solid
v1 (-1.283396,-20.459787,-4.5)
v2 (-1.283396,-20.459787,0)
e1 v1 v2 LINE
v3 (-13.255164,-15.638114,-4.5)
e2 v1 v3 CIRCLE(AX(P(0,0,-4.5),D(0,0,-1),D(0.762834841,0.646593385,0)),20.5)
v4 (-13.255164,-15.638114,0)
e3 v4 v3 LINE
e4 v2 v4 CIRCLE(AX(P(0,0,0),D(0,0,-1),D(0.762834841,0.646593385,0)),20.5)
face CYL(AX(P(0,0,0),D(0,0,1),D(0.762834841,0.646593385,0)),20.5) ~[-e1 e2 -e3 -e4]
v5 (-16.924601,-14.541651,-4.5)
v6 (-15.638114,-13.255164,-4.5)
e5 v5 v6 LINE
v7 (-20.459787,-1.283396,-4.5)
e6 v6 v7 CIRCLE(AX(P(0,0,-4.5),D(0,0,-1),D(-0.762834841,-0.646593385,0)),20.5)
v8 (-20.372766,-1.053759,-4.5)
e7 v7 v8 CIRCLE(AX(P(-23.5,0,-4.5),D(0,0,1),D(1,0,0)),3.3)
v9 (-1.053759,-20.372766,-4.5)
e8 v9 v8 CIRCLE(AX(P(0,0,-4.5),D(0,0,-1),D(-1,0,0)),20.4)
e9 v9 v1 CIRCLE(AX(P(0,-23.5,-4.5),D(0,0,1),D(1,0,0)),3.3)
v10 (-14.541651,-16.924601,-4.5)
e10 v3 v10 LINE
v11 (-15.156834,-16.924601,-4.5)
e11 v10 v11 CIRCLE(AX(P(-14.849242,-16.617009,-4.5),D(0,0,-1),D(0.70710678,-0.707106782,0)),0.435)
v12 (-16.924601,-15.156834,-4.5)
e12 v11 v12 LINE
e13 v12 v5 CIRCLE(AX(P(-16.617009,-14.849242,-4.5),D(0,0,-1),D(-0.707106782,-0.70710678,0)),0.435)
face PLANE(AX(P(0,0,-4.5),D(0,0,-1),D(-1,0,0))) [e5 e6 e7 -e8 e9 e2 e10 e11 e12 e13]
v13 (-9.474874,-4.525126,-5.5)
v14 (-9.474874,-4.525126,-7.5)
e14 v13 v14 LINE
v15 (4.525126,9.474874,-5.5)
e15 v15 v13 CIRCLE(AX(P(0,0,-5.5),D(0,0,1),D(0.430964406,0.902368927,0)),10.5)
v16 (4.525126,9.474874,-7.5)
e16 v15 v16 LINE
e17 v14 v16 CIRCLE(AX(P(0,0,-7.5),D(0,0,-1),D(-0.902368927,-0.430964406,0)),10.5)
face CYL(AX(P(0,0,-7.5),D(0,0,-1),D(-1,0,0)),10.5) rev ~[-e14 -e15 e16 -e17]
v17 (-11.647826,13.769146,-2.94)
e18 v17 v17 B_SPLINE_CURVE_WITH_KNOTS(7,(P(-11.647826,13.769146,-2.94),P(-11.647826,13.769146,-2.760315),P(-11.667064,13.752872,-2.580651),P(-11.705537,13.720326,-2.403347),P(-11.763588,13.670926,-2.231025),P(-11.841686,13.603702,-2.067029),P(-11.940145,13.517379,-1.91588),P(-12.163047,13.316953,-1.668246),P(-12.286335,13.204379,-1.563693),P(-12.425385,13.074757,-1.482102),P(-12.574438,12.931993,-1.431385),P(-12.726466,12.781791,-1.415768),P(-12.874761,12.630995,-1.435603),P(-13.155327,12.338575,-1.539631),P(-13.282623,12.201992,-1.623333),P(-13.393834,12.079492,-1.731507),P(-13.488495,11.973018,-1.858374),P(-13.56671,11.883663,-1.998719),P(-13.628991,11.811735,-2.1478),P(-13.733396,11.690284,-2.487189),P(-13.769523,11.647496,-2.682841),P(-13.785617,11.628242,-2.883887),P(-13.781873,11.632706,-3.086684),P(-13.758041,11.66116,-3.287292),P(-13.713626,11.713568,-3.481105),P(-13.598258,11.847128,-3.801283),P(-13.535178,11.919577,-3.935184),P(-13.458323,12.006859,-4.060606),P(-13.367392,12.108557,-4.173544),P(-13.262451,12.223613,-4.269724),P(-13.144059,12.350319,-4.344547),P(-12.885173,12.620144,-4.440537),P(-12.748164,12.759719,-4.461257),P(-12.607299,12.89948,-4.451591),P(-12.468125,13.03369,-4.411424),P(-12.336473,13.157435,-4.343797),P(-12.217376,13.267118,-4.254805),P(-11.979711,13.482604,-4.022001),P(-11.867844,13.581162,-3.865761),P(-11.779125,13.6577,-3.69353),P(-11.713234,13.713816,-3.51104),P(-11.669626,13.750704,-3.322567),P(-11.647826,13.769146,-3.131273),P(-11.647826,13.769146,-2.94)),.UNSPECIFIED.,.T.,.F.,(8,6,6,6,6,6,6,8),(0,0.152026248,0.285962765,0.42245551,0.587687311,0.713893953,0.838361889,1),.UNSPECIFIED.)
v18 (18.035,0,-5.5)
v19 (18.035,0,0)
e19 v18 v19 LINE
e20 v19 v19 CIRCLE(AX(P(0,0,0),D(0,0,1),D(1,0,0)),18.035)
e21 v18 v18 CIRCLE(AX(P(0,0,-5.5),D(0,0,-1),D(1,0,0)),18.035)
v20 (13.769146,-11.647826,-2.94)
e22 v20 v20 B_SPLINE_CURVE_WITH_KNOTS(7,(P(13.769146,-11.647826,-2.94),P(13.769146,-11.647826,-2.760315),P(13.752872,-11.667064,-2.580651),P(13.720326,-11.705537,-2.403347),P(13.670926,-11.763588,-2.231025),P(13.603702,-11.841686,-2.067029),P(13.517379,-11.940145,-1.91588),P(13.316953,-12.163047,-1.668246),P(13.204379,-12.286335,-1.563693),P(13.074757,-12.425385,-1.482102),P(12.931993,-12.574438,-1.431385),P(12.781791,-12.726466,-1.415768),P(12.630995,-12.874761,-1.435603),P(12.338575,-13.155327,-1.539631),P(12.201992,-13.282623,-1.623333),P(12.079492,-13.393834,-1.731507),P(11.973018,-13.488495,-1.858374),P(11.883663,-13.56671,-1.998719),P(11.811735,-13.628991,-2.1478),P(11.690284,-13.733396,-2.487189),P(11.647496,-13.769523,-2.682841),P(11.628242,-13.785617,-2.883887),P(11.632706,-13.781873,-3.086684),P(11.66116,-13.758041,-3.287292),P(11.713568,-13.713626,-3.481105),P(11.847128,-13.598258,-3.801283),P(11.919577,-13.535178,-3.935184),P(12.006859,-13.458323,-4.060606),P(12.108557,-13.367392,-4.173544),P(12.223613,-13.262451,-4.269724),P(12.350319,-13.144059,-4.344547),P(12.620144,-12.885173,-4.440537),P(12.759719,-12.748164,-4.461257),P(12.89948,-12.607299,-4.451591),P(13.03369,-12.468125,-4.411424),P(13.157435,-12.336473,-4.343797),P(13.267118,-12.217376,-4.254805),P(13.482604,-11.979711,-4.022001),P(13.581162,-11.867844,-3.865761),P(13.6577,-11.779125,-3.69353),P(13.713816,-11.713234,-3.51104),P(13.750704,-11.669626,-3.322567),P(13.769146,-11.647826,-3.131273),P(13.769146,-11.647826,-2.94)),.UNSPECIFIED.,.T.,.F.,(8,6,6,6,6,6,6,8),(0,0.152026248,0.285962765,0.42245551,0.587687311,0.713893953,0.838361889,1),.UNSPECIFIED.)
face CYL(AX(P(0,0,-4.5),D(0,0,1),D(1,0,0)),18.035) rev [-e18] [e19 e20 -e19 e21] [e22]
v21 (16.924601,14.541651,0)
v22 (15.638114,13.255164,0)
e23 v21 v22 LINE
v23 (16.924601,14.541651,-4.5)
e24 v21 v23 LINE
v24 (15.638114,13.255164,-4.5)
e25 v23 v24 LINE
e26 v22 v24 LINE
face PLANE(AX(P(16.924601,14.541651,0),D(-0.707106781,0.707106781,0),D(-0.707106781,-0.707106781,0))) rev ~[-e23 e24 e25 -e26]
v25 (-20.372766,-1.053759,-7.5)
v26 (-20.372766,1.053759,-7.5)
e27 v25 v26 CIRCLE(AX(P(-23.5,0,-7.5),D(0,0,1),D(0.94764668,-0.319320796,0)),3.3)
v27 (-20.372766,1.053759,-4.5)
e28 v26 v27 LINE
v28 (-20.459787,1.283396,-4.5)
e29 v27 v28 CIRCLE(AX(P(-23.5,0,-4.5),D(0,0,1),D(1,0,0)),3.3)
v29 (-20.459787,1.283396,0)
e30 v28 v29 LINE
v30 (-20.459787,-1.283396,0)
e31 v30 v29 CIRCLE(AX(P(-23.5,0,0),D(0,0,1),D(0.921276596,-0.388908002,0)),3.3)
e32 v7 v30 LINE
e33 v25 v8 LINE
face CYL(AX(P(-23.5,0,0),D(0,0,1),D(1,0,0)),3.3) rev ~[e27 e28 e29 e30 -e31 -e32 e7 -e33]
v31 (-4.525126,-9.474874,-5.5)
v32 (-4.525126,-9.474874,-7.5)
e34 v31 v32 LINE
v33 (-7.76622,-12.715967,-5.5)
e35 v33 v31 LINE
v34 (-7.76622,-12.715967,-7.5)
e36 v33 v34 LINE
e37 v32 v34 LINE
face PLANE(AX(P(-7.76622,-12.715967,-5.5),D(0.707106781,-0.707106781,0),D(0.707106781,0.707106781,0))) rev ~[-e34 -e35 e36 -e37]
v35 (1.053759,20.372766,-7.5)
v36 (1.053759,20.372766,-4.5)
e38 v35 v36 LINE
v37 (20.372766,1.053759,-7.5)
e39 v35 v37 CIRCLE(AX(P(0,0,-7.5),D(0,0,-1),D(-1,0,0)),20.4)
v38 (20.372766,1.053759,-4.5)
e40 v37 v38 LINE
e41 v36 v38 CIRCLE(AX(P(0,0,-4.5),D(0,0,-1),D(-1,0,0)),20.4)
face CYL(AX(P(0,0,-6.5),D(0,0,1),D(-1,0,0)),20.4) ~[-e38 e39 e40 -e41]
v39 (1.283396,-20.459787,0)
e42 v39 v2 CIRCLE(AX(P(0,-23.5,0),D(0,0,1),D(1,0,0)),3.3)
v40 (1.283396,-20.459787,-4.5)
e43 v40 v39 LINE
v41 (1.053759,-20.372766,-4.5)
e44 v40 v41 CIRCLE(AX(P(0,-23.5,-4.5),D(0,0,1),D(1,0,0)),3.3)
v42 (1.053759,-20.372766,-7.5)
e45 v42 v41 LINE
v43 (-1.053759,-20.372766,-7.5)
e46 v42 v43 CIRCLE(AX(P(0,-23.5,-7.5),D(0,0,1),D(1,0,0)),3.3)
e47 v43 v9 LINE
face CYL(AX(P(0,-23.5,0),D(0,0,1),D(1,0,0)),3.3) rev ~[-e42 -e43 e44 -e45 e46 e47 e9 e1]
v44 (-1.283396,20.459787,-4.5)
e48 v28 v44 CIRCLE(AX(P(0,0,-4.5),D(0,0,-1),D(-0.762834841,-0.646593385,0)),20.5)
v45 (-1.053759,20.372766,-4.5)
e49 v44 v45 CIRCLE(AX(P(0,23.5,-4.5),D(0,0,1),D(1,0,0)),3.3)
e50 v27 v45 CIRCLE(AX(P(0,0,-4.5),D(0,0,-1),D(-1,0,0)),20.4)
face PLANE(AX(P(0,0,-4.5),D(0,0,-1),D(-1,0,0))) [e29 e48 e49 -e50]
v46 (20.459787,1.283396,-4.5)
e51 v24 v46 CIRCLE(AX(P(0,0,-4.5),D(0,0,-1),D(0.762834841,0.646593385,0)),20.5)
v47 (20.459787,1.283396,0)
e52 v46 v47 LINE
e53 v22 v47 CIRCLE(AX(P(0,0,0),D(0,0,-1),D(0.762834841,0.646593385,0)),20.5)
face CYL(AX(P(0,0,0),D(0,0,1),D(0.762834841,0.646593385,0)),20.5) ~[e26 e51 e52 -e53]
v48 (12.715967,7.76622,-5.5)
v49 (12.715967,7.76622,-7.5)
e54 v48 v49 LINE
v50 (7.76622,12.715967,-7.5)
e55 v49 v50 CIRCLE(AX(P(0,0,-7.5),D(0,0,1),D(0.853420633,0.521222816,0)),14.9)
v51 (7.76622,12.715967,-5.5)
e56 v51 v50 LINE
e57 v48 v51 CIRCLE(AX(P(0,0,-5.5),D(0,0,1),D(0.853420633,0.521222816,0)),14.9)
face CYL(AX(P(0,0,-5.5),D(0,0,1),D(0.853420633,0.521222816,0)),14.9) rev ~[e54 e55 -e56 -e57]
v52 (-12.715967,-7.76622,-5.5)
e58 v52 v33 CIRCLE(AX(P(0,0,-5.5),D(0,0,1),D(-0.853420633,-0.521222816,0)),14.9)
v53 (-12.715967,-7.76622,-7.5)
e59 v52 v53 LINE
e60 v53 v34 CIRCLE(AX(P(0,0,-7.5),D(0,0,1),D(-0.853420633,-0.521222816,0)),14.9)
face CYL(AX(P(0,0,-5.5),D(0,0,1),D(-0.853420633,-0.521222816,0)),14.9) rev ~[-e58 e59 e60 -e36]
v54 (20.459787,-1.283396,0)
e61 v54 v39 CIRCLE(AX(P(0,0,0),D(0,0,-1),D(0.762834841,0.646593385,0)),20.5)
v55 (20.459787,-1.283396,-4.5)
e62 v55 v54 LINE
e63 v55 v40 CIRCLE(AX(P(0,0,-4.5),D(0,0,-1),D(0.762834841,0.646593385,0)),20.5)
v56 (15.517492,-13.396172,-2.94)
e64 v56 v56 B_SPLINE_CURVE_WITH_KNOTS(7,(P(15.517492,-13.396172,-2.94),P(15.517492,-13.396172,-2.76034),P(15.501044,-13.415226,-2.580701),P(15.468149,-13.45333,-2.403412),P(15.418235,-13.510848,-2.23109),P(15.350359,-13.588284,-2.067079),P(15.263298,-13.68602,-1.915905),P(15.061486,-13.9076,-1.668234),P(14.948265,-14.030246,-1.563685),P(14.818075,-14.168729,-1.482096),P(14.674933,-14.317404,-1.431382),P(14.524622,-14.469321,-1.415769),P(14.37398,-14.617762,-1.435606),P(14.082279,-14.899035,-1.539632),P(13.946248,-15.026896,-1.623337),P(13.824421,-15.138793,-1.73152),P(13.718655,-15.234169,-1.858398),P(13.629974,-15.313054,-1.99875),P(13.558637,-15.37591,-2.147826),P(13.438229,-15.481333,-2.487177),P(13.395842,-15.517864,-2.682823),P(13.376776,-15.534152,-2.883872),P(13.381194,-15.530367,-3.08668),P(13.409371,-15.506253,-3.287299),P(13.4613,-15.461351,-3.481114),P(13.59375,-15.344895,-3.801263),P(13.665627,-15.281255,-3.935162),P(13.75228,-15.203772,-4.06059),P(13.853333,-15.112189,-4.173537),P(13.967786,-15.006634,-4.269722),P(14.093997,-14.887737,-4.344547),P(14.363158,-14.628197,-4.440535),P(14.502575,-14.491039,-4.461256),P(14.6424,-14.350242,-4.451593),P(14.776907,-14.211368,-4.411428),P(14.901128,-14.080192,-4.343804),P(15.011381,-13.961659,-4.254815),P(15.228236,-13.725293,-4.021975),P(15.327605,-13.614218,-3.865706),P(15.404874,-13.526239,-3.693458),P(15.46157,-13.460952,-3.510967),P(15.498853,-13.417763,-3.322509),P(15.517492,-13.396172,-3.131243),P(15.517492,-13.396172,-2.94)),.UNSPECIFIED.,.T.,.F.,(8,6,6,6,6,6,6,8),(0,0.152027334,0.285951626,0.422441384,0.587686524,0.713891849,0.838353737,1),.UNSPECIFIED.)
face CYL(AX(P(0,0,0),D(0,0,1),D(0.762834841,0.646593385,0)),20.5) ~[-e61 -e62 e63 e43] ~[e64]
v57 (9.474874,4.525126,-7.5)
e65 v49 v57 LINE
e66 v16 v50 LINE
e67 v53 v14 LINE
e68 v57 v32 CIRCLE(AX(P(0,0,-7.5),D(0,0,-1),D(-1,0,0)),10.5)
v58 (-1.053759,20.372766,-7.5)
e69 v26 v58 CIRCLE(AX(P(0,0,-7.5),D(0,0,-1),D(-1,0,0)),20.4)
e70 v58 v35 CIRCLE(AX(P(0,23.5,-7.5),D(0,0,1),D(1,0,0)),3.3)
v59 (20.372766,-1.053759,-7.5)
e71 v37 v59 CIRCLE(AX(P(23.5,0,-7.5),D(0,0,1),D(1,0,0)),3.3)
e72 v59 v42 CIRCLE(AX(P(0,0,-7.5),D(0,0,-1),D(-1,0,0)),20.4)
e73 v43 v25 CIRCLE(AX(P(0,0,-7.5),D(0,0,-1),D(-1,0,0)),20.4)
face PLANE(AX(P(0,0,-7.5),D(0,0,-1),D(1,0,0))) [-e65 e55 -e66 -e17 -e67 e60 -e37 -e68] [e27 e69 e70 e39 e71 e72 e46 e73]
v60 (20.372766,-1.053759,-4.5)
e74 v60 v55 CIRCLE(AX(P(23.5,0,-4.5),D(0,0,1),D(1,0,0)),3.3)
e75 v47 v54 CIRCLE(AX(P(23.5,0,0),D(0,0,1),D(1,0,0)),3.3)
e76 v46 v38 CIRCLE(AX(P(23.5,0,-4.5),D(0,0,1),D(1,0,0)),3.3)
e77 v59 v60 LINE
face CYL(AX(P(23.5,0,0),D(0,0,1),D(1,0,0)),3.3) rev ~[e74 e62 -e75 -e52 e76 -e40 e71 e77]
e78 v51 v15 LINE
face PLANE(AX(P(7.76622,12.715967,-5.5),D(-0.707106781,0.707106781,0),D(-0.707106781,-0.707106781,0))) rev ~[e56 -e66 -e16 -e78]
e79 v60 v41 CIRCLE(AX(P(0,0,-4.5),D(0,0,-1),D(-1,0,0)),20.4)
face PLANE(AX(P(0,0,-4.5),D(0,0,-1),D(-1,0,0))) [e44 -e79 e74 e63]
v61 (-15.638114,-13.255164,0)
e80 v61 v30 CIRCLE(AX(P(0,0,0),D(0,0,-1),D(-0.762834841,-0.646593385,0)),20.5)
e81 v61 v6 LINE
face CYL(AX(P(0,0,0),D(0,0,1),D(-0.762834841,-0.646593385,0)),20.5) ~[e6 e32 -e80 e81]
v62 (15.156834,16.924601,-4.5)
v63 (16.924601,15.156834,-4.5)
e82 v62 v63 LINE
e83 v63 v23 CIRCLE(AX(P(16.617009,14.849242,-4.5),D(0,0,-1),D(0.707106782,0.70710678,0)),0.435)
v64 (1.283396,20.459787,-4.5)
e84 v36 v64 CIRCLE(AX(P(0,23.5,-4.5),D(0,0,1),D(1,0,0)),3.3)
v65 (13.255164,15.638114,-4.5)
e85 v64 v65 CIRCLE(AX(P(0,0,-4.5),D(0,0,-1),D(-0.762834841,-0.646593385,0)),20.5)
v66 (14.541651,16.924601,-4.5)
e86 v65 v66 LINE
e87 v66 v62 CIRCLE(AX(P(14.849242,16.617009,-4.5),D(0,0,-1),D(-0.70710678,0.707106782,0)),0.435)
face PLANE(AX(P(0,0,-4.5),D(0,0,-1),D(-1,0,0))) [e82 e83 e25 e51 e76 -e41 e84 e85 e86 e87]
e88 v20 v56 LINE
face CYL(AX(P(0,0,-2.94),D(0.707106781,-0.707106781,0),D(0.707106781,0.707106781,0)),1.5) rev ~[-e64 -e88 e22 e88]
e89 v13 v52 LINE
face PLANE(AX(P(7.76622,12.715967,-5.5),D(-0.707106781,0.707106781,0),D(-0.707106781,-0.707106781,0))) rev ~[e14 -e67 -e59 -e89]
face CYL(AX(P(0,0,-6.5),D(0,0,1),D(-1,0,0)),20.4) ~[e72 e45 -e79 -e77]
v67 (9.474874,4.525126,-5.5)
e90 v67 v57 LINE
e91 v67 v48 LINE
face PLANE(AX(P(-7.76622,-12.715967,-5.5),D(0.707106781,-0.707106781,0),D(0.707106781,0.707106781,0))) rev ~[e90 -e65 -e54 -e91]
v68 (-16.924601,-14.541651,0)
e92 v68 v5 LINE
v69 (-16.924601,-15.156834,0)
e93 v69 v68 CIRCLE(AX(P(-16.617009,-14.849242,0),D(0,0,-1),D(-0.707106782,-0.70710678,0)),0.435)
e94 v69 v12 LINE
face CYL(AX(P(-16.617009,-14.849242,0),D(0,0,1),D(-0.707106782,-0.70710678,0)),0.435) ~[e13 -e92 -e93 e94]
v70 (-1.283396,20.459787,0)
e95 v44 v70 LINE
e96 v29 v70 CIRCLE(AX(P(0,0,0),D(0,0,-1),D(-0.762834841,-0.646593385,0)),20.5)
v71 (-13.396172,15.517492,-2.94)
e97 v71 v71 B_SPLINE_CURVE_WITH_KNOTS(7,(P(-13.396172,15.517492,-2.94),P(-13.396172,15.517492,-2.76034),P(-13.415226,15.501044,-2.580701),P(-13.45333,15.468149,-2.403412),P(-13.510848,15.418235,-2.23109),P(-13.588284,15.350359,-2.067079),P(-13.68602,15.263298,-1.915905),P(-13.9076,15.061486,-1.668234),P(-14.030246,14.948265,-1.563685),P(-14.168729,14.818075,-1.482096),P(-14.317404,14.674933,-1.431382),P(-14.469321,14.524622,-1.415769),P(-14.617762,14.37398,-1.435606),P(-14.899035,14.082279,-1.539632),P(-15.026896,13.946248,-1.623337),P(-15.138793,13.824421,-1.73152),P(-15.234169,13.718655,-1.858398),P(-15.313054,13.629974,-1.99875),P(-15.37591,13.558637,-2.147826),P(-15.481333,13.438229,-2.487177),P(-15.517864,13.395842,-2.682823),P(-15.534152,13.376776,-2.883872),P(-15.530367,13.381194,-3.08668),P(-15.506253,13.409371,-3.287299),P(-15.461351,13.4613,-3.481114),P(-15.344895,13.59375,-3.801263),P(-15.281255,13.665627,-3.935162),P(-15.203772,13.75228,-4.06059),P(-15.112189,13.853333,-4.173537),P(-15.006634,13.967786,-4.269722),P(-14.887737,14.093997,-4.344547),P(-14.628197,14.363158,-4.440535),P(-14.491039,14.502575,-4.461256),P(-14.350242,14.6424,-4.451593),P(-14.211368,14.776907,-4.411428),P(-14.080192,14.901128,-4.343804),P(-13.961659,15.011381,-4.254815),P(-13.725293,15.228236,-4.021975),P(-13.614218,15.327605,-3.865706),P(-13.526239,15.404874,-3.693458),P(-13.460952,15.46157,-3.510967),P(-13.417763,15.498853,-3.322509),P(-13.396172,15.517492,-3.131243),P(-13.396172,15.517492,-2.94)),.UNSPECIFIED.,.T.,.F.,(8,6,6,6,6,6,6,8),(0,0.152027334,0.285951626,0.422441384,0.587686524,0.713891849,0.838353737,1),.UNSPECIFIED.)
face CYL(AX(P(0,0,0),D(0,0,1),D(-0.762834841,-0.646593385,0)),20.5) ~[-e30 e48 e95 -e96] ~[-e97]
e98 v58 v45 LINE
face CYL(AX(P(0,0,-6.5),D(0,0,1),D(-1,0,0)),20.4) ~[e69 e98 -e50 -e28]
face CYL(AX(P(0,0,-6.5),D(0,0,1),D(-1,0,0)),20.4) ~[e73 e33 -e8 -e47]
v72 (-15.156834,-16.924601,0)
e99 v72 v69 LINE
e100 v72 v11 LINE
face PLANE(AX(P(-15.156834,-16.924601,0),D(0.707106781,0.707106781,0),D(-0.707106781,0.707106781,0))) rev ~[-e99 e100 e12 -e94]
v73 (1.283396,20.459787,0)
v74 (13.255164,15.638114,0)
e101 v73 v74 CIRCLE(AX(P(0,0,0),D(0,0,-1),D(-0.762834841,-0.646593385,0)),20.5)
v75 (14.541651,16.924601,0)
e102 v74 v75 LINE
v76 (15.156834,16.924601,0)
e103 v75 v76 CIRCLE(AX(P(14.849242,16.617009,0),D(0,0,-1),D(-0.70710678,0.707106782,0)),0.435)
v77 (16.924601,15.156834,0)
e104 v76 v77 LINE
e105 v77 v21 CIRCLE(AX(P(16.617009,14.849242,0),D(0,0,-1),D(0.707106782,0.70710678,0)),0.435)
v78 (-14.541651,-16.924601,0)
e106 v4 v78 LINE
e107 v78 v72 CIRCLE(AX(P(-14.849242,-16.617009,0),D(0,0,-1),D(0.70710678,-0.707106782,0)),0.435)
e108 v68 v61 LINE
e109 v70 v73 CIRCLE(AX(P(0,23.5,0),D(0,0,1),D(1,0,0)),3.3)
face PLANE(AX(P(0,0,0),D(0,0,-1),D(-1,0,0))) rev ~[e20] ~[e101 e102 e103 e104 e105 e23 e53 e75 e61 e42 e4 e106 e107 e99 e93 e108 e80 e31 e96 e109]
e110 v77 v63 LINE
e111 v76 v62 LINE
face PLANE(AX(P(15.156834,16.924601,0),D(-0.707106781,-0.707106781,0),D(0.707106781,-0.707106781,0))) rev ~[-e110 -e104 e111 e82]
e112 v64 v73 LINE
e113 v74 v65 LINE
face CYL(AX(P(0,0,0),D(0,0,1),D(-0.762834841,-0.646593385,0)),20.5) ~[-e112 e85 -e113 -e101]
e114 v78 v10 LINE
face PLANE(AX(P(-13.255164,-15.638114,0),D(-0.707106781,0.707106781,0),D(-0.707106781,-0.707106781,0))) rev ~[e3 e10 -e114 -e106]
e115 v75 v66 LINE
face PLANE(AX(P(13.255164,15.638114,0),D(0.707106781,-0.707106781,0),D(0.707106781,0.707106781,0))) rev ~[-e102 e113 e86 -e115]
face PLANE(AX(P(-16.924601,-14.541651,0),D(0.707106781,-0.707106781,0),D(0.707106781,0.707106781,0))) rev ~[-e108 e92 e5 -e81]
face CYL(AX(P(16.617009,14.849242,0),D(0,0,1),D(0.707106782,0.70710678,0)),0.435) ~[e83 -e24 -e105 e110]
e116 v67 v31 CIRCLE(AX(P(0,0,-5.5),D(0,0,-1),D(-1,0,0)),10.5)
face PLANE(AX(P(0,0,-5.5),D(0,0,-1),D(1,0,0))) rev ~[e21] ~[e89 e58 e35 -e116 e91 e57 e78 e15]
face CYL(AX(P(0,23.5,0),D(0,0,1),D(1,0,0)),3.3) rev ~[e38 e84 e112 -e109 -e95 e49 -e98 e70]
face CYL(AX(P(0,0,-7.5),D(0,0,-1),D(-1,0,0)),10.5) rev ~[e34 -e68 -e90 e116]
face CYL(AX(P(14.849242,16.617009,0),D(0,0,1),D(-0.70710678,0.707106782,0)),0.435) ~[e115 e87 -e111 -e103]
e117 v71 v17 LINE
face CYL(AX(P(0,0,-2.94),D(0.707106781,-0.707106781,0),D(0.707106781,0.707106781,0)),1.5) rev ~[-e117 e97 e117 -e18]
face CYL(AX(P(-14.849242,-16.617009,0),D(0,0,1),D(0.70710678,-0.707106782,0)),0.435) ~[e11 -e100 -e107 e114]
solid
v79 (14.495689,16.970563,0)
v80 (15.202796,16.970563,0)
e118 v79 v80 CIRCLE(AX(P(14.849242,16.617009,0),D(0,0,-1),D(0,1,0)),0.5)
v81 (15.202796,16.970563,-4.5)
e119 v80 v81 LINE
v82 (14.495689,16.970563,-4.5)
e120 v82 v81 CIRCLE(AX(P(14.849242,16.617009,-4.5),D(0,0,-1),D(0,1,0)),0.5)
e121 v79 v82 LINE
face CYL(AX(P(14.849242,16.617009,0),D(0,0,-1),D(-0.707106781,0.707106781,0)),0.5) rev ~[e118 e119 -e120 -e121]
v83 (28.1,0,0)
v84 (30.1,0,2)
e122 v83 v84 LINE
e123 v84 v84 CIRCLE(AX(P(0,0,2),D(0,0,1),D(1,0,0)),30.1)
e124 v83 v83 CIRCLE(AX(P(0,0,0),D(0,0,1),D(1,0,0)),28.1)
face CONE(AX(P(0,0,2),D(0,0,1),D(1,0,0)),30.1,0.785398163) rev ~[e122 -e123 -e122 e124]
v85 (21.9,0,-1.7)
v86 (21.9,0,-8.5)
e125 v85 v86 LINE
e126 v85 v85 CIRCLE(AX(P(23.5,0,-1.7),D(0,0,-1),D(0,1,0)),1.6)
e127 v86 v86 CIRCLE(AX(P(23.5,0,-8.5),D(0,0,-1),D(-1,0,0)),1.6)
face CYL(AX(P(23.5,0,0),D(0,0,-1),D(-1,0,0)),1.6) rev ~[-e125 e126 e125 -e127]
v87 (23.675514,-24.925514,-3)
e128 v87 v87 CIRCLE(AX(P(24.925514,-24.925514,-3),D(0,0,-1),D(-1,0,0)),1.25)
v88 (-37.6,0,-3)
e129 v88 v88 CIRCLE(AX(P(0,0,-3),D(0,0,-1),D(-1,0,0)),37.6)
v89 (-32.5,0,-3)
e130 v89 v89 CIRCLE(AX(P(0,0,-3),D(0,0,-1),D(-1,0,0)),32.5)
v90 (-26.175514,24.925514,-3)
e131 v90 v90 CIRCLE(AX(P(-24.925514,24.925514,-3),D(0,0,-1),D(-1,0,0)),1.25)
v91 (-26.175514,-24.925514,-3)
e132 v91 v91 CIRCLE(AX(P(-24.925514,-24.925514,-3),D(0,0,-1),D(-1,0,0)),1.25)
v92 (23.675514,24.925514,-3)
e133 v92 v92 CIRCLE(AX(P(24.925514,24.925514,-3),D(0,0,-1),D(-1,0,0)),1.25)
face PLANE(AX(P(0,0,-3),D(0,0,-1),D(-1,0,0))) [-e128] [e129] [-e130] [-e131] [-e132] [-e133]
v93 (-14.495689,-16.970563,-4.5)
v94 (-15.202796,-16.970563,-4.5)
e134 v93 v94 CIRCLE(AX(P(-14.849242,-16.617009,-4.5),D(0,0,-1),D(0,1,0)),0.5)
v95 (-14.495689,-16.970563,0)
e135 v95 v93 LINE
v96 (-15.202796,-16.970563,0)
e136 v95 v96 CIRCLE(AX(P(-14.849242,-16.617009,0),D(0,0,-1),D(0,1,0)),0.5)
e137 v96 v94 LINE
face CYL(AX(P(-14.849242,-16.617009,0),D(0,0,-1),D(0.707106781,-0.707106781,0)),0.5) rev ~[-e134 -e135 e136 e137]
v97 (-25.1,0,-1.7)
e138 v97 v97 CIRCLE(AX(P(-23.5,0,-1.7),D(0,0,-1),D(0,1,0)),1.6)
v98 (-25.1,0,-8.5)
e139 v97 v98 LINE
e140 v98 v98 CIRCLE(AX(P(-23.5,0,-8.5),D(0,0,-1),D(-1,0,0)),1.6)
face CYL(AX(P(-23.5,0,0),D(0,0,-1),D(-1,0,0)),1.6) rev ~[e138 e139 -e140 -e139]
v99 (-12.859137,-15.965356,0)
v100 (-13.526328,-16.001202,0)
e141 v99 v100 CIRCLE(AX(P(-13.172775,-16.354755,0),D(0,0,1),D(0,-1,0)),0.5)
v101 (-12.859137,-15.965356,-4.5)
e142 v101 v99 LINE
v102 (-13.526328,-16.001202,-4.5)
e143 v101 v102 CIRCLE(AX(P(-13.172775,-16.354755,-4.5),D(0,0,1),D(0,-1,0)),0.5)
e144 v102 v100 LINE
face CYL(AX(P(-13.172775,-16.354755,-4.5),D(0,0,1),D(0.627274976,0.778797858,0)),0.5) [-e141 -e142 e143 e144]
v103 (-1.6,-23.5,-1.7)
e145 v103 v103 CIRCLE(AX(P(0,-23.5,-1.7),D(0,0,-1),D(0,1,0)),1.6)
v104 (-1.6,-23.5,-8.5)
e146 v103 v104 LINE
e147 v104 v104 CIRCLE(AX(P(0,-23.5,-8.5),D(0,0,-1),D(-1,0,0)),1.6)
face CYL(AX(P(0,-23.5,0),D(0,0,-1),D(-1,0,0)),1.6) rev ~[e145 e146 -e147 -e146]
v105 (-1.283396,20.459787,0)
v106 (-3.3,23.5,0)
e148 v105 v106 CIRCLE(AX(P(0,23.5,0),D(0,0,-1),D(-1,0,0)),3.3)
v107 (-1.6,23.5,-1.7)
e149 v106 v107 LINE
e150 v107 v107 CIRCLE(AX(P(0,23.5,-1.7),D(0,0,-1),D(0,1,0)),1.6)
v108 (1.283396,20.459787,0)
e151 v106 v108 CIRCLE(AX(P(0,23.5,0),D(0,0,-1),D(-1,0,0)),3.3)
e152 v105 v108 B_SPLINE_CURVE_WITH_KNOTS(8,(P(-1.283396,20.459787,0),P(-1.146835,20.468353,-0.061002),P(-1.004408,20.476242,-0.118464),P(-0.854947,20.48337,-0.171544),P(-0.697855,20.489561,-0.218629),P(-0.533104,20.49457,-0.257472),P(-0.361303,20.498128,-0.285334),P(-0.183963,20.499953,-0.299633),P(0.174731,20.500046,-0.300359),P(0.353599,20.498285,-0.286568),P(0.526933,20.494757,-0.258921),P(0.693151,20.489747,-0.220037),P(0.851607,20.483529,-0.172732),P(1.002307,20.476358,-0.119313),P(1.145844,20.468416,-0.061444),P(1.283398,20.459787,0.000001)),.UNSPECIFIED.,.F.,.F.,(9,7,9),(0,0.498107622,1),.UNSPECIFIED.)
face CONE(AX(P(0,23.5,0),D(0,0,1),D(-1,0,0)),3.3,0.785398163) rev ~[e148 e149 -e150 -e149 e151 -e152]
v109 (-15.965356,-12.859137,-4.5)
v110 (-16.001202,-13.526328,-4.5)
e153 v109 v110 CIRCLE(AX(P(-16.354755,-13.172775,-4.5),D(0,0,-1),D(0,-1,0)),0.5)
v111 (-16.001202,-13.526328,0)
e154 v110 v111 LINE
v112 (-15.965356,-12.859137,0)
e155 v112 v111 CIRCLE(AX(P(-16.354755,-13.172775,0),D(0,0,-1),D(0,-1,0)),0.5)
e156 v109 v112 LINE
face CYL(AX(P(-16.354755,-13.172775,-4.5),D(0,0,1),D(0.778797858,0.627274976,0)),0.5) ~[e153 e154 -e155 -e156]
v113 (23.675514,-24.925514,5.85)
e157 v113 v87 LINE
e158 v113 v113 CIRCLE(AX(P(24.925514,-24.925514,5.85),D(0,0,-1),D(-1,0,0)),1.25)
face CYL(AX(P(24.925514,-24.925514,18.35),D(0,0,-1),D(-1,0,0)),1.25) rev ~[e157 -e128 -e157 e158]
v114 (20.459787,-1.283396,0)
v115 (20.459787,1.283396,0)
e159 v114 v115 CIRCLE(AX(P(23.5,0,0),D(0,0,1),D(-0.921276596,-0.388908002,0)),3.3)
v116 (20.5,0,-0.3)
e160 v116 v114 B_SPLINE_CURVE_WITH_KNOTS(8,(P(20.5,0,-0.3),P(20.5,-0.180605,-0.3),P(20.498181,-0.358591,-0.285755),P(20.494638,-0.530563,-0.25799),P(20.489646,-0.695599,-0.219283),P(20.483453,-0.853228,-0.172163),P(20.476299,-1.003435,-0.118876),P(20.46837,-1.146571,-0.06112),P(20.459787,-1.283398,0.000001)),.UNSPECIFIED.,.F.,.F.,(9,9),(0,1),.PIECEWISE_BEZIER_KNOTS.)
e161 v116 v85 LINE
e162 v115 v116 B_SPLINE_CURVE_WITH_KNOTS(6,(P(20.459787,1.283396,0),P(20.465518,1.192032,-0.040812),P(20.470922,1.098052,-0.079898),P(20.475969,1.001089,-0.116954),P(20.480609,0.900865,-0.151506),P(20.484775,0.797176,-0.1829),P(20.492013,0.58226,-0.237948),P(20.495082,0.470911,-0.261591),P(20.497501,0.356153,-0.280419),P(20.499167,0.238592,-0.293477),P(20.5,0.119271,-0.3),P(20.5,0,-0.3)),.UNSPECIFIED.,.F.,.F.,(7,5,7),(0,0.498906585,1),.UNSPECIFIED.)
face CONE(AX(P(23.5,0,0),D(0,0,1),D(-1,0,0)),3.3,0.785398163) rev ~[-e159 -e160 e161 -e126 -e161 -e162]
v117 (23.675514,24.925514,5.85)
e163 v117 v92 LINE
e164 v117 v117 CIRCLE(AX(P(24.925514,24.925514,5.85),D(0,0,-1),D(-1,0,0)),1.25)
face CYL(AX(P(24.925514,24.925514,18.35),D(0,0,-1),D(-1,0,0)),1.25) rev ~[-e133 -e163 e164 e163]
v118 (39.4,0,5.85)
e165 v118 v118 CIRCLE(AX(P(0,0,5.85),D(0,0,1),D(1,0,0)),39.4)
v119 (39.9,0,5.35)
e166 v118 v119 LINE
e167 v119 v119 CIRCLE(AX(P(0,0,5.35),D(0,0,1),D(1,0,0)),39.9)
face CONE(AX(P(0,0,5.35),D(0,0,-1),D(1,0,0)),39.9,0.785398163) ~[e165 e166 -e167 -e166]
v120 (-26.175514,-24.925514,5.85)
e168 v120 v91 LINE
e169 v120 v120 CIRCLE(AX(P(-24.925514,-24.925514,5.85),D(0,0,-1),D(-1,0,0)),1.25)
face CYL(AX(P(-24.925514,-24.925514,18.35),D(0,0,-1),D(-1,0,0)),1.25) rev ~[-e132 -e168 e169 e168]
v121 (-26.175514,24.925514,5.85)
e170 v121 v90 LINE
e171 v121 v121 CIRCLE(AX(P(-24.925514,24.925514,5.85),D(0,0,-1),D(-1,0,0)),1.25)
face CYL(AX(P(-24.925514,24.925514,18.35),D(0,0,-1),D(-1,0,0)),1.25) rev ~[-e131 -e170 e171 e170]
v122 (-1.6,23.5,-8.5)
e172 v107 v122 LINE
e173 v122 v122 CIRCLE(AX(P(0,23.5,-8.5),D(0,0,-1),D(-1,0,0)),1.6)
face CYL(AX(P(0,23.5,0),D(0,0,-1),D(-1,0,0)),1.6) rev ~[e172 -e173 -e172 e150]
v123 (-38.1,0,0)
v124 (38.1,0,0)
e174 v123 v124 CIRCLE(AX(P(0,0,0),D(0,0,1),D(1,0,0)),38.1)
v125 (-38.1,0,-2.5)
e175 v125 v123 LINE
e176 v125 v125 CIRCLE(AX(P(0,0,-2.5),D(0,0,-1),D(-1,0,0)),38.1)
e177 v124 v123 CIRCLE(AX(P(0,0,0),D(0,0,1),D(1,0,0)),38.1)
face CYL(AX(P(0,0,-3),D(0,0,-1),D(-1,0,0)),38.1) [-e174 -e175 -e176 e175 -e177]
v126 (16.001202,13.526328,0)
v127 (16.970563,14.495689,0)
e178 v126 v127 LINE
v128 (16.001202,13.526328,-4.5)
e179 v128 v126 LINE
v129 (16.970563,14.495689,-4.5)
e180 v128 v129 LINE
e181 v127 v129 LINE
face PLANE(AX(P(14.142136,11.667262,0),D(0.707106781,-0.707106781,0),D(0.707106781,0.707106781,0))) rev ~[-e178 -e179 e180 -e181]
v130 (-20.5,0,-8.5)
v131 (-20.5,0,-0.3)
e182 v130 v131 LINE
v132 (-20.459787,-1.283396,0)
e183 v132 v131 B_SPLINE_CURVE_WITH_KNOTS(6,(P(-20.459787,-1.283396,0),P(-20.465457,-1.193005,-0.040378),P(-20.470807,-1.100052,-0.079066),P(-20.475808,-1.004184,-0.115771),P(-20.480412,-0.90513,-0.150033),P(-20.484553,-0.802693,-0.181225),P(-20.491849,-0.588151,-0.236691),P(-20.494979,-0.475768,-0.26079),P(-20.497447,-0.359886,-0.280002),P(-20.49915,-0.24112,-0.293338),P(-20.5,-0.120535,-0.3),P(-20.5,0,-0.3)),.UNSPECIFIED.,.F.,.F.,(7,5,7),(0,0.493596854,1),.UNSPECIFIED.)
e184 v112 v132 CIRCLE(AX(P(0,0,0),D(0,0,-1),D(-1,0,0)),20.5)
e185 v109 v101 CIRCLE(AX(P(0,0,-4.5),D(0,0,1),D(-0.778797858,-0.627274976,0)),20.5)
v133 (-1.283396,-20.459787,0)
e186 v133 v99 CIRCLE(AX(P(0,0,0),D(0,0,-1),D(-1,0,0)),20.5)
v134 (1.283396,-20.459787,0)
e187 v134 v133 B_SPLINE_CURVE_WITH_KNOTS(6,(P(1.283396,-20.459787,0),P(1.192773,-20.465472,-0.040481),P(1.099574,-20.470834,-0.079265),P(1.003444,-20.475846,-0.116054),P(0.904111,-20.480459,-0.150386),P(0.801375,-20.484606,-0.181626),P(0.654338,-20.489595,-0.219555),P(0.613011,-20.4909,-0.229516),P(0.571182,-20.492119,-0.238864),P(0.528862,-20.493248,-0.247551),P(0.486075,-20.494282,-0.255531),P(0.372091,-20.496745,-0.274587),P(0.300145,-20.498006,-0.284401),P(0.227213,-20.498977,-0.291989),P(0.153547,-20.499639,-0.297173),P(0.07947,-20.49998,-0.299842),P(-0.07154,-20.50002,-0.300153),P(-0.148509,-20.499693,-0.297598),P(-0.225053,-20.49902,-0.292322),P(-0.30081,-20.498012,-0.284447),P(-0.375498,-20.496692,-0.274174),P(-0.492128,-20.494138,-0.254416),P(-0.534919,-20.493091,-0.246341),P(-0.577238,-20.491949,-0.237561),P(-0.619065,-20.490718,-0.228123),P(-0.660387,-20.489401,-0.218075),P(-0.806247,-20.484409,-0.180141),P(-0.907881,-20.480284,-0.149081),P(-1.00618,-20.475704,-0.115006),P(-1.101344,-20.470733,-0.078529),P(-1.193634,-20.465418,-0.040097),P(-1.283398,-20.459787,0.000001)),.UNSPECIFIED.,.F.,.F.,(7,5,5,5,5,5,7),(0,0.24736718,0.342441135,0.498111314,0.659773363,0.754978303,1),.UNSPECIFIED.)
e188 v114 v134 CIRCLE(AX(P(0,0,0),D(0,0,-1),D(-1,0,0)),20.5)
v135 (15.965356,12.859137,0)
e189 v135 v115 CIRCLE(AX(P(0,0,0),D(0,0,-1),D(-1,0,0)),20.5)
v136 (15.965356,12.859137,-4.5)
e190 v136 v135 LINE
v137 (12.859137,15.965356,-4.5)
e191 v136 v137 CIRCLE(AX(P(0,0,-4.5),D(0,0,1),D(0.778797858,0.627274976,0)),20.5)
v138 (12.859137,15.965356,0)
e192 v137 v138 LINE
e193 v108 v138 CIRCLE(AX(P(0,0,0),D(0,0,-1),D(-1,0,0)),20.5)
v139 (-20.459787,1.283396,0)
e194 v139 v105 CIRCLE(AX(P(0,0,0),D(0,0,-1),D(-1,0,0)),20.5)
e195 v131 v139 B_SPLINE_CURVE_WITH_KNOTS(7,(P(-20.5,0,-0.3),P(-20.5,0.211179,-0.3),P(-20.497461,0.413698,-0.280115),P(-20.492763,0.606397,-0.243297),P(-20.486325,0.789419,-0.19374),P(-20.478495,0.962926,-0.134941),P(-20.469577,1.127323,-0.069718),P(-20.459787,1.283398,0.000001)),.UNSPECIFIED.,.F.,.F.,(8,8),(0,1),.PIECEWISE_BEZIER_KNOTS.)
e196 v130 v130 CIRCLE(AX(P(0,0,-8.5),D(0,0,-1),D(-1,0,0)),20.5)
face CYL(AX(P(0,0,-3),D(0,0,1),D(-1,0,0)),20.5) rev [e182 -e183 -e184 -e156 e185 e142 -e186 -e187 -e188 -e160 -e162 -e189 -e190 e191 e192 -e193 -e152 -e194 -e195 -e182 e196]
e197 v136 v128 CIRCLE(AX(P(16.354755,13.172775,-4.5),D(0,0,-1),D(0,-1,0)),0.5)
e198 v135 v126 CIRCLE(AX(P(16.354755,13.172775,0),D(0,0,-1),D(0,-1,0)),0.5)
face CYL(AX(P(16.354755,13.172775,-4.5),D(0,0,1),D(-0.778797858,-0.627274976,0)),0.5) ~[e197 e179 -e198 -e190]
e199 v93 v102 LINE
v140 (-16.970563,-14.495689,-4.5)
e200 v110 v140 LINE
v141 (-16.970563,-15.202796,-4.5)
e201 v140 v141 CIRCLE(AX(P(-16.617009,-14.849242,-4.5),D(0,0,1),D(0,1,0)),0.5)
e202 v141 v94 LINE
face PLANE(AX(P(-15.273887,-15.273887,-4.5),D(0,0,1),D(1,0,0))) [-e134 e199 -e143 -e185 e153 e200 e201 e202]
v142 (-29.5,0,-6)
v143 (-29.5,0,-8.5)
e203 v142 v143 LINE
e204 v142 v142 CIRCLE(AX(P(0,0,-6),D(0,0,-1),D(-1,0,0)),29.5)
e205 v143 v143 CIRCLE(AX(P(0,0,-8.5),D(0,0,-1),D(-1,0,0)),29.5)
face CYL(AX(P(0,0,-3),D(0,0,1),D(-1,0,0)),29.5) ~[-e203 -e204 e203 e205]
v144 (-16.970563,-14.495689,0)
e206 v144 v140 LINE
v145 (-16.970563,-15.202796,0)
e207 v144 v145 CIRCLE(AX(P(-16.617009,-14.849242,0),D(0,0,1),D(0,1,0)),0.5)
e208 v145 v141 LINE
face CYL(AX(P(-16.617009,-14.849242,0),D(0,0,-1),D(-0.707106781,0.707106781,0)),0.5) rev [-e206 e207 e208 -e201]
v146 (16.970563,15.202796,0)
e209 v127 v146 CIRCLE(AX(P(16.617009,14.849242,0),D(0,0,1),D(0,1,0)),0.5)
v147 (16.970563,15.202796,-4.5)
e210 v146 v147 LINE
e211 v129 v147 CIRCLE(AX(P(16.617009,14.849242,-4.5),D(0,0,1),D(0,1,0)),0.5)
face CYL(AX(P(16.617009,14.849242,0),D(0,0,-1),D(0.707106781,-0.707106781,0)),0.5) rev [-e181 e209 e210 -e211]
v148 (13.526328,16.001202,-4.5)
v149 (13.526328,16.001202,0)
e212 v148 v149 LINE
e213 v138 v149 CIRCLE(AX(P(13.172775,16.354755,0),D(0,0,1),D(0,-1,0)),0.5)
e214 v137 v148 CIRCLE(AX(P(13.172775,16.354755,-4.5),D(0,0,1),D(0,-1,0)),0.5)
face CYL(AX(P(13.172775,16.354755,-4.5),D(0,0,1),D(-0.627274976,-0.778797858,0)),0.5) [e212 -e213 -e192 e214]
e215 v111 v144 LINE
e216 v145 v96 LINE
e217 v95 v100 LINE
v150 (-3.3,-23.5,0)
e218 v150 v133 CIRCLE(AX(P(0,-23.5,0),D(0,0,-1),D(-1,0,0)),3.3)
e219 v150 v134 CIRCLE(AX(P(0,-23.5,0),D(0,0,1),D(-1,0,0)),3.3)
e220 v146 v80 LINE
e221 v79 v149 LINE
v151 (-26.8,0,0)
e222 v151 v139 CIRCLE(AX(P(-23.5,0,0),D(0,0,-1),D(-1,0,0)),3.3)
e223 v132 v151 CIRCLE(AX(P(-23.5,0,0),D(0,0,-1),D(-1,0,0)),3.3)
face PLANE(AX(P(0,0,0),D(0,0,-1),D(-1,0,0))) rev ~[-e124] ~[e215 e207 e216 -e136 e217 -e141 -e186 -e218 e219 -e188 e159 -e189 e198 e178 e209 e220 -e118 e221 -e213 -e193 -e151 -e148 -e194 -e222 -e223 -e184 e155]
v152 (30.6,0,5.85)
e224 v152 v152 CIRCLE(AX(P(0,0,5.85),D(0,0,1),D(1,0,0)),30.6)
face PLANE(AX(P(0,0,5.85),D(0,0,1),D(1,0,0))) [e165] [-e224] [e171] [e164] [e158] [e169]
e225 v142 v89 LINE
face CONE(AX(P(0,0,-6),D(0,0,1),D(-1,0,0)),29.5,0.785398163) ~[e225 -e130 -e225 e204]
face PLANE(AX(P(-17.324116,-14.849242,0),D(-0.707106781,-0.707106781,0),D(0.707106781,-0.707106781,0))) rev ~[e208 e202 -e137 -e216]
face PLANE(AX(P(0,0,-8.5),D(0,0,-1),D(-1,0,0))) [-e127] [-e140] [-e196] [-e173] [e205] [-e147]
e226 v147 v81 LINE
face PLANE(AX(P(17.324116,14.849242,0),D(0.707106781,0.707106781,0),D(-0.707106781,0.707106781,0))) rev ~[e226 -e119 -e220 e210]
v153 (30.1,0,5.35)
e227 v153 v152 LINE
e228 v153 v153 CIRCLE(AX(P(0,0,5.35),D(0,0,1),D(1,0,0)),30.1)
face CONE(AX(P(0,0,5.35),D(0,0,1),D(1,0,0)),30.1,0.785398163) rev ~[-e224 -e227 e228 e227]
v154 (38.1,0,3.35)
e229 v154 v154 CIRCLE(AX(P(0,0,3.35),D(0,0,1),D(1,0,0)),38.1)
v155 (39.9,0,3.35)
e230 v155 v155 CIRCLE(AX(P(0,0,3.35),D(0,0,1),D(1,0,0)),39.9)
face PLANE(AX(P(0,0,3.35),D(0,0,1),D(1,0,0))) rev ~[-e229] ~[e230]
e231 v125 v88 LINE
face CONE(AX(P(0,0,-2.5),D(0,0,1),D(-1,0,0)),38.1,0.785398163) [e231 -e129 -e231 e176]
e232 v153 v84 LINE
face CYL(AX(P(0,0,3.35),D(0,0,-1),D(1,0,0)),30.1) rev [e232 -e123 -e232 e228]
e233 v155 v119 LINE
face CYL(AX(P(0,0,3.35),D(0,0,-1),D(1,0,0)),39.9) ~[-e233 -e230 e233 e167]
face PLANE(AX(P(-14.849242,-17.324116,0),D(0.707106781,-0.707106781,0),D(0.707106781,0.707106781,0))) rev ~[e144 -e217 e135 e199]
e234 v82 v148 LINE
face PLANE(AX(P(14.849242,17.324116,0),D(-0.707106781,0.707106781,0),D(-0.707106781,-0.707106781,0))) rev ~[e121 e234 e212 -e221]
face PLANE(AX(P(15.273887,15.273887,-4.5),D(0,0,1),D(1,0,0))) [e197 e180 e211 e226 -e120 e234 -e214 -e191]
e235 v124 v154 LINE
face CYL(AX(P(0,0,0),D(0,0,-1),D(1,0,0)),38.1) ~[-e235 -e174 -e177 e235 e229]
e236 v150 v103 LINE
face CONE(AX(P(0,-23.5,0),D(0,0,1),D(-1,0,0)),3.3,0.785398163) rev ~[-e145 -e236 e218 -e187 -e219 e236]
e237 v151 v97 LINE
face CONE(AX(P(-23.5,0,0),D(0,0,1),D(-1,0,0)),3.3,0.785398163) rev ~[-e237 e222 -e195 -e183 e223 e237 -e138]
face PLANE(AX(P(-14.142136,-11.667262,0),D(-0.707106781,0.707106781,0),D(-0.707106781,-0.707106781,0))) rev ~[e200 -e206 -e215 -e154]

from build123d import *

# Parameters (mm, degrees)
SKETCH_1_R                = 38.1
SKETCH_1_R_2              = 30.1
EXTRUDE_1_DEPTH           = 3.35
SKETCH_2_R                = 39.9
SKETCH_2_R_2              = 30.1
EXTRUDE_2_DEPTH           = 2.5
EXTRUDE_START             = 3
SKETCH_4_R                = 38.1
SKETCH_4_R_2              = 20.5
EXTRUDE_3_DEPTH           = 3
CHAMFER_1_SIZE            = 2
SKETCH_5_R                = 1.5
CUT_EXTRUDE_1_DEPTH       = 10
CHAMFER_2_SIZE            = 0.5
SKETCH_6_R                = 29.5
SKETCH_6_R_2              = 20.5
SKETCH_6_R_3              = 1.5
EXTRUDE_4_DEPTH           = 5.5
CHAMFER_3_SIZE            = 3
CHAMFER_4_SIZE            = 0.5
HOLE_WIZARD_1_D           = 3.2
HOLE_WIZARD_1_DEPTH       = 12.5
HOLE_WIZARD_1_CSINK_D     = 6.6
HOLE_WIZARD_1_CSINK_ANGLE = 90
HOLE_WIZARD_1_TIP         = 0.96137699
SKETCH_8_R                = 1.2
CUT_EXTRUDE_2_DEPTH       = 10
HOLE_WIZARD_M3_1_D        = 2.5
HOLE_WIZARD_M3_1_DEPTH    = 12.5
HOLE_WIZARD_M3_1_TIP      = 0.751075774
CUT_EXTRUDE_4_DEPTH       = 4.5
FILLET_3_R                = 0.5
SKETCH_13_R               = 18.035
EXTRUDE_5_DEPTH           = 4.5
SKETCH_14_R               = 20.4
SKETCH_14_R_2             = 18.035
EXTRUDE_6_DEPTH           = 2
SKETCH_15_R               = 20.4
SKETCH_15_R_2             = 18.035
EXTRUDE_7_DEPTH           = 1
SKETCH_16_R               = 18.035
SKETCH_16_R_2             = 10.5
EXTRUDE_8_DEPTH           = 2
SKETCH_17_R               = 3.3
CUT_EXTRUDE_5_DEPTH       = 14
SKETCH_18_R               = 1.5
CUT_EXTRUDE_6_DEPTH       = 40
CUT_EXTRUDE_7_DEPTH       = 80


with BuildPart() as part:
    # 草图1 → 凸台-拉伸1 (new body)
    with BuildSketch(Plane.XY):
        Circle(SKETCH_1_R)
        Circle(SKETCH_1_R_2, mode=Mode.SUBTRACT)
    extrude(amount=EXTRUDE_1_DEPTH)

    # 草图2 → 凸台-拉伸2 (add)
    with BuildSketch(Plane.XY.offset(3.35)):
        Circle(SKETCH_2_R)
        Circle(SKETCH_2_R_2, mode=Mode.SUBTRACT)
    extrude(amount=EXTRUDE_2_DEPTH)

    # 草图4 → 凸台-拉伸3 (add)
    with BuildSketch(Plane(origin=(0, 0, 0), x_dir=(-1, 0, 0), z_dir=(0, 0, -1)).offset(EXTRUDE_START)):
        Circle(SKETCH_4_R)
        Circle(SKETCH_4_R_2, mode=Mode.SUBTRACT)
    extrude(amount=-EXTRUDE_3_DEPTH)

    # 倒角1
    chamfer_1_edges = [part.edges().sort_by_distance(p)[0] for p in [
        (-30.1, 0, 0),
    ]]
    chamfer(chamfer_1_edges, length=CHAMFER_1_SIZE)

    # 草图5 → 切除-拉伸1 (cut)
    with BuildSketch(Plane.XY):
        with Locations((-23.5, 0)):
            Circle(SKETCH_5_R)
        with Locations((0, 23.5)):
            Circle(SKETCH_5_R)
        with Locations((23.5, 0)):
            Circle(SKETCH_5_R)
        with Locations((0, -23.5)):
            Circle(SKETCH_5_R)
    extrude(amount=-CUT_EXTRUDE_1_DEPTH, mode=Mode.SUBTRACT)

    # 倒角2
    chamfer_2_edges = [part.edges().sort_by_distance(p)[0] for p in [
        (-39.9, 0, 5.85),
        (-30.1, 0, 5.85),
    ]]
    chamfer(chamfer_2_edges, length=CHAMFER_2_SIZE)

    # 草图6 → 凸台-拉伸4 (add)
    with BuildSketch(Plane(origin=(0, 0, -3), x_dir=(-1, 0, 0), z_dir=(0, 0, -1))):
        Circle(SKETCH_6_R)
        Circle(SKETCH_6_R_2, mode=Mode.SUBTRACT)
        with Locations(Location((23.5, 0, 0), (0, 0, 180))):
            Circle(SKETCH_6_R_3, mode=Mode.SUBTRACT)
        with Locations(Location((0, 23.5, 0), (0, 0, 180))):
            Circle(SKETCH_6_R_3, mode=Mode.SUBTRACT)
        with Locations(Location((-23.5, 0, 0), (0, 0, 180))):
            Circle(SKETCH_6_R_3, mode=Mode.SUBTRACT)
        with Locations(Location((0, -23.5, 0), (0, 0, 180))):
            Circle(SKETCH_6_R_3, mode=Mode.SUBTRACT)
    extrude(amount=EXTRUDE_4_DEPTH)

    # 倒角3
    chamfer_3_edges = [part.edges().sort_by_distance(p)[0] for p in [
        (29.5, 0, -3),
    ]]
    chamfer(chamfer_3_edges, length=CHAMFER_3_SIZE)

    # 倒角4
    chamfer_4_edges = [part.edges().sort_by_distance(p)[0] for p in [
        (38.1, 0, -3),
    ]]
    chamfer(chamfer_4_edges, length=CHAMFER_4_SIZE)

    # 打孔尺寸(%根据十字)槽半沉头木螺钉的类型1
    with Locations(Plane(origin=(23.5, 0, 0), x_dir=(1, 0, 0), z_dir=(0, 0, 1))):
        with Locations((0, 0), (-23.5, -23.5), (-47, 0), (-23.5, 23.5)):
            CounterSinkHole(HOLE_WIZARD_1_D / 2, HOLE_WIZARD_1_CSINK_D / 2, depth=HOLE_WIZARD_1_DEPTH, counter_sink_angle=HOLE_WIZARD_1_CSINK_ANGLE)
            with Locations((0, 0, -(HOLE_WIZARD_1_DEPTH + HOLE_WIZARD_1_TIP / 2))):  # 118° drill point
                Cone(0, HOLE_WIZARD_1_D / 2, HOLE_WIZARD_1_TIP, mode=Mode.SUBTRACT)

    # 草图8 → 切除-拉伸2 (cut)
    with BuildSketch(Plane(origin=(0, 0, -3), x_dir=(-1, 0, 0), z_dir=(0, 0, -1))):
        with Locations((-24.925514037, -24.925514037)):
            Circle(SKETCH_8_R)
        with Locations((-24.925514037, 24.925514037)):
            Circle(SKETCH_8_R)
        with Locations((24.925514037, 24.925514037)):
            Circle(SKETCH_8_R)
        with Locations((24.925514037, -24.925514037)):
            Circle(SKETCH_8_R)
    extrude(amount=-CUT_EXTRUDE_2_DEPTH, mode=Mode.SUBTRACT)

    # M3 螺纹孔1
    with Locations(Plane(origin=(24.925514037, 24.925514037, 5.85), x_dir=(1, 0, 0), z_dir=(0, 0, 1))):
        with Locations((0, 0), (0, -49.851028074), (-49.851028074, -49.851028074), (-49.851028074, 0)):
            Hole(HOLE_WIZARD_M3_1_D / 2, depth=HOLE_WIZARD_M3_1_DEPTH)
            with Locations((0, 0, -(HOLE_WIZARD_M3_1_DEPTH + HOLE_WIZARD_M3_1_TIP / 2))):  # 118° drill point
                Cone(0, HOLE_WIZARD_M3_1_D / 2, HOLE_WIZARD_M3_1_TIP, mode=Mode.SUBTRACT)

    # 草图12 → 切除-拉伸4 (cut)
    with BuildSketch(Plane.XY):
        with BuildLine():
            Line((15.680211877, 13.205338143), (17.324116139, 14.849242405))
            Line((17.324116139, 14.849242405), (14.849242405, 17.324116139))
            Line((14.849242405, 17.324116139), (13.205338143, 15.680211877))
            ThreePointArc((13.205338143, 15.680211877), (14.495689014, 14.495689014), (15.680211877, 13.205338143))
        make_face()
        with BuildLine():
            Line((-14.849242405, -17.324116139), (-13.205338143, -15.680211877))
            ThreePointArc((-13.205338143, -15.680211877), (-14.495689014, -14.495689014), (-15.680211877, -13.205338143))
            Line((-15.680211877, -13.205338143), (-17.324116139, -14.849242405))
            Line((-17.324116139, -14.849242405), (-14.849242405, -17.324116139))
        make_face()
        with BuildLine():
            ThreePointArc((-15.680211877, -13.205338143), (-14.495689014, -14.495689014), (-13.205338143, -15.680211877))
            Line((-13.205338143, -15.680211877), (-11.66726189, -14.142135624))
            ThreePointArc((-11.66726189, -14.142135624), (-11.66726189, -11.66726189), (-14.142135624, -11.66726189))
            Line((-14.142135624, -11.66726189), (-15.680211877, -13.205338143))
        make_face()
        with BuildLine():
            Line((14.142135624, 11.66726189), (15.680211877, 13.205338143))
            ThreePointArc((15.680211877, 13.205338143), (14.495689014, 14.495689014), (13.205338143, 15.680211877))
            Line((13.205338143, 15.680211877), (11.66726189, 14.142135624))
            ThreePointArc((11.66726189, 14.142135624), (11.66726189, 11.66726189), (14.142135624, 11.66726189))
        make_face()
    extrude(amount=-CUT_EXTRUDE_4_DEPTH, mode=Mode.SUBTRACT)

    # 圆角3
    fillet_3_edges = [part.edges().sort_by_distance(p)[0] for p in [
        (13.205338143, 15.680211877, -2.25),
        (15.680211877, 13.205338143, -2.25),
        (-13.205338143, -15.680211877, -2.25),
        (-15.680211877, -13.205338143, -2.25),
        (-17.324116139, -14.849242405, -2.25),
        (-14.849242405, -17.324116139, -2.25),
        (14.849242405, 17.324116139, -2.25),
        (17.324116139, 14.849242405, -2.25),
    ]]
    fillet(fillet_3_edges, radius=FILLET_3_R)


with BuildPart() as body_2:
    # 草图13 → 凸台-拉伸5 (new body)
    with BuildSketch(Plane.XY):
        with BuildLine():
            Line((-13.255164389, -15.638114241), (-14.541650955, -16.924600808))
            ThreePointArc((-14.541650955, -16.924600808), (-14.849242405, -17.052009358), (-15.156833855, -16.924600808))
            Line((-15.156833855, -16.924600808), (-16.924600808, -15.156833855))
            ThreePointArc((-16.924600808, -15.156833855), (-17.052009358, -14.849242405), (-16.924600808, -14.541650955))
            Line((-16.924600808, -14.541650955), (-15.638114241, -13.255164389))
            ThreePointArc((-15.638114241, -13.255164389), (-14.495689014, 14.495689014), (13.255164389, 15.638114241))
            Line((13.255164389, 15.638114241), (14.541650955, 16.924600808))
            ThreePointArc((14.541650955, 16.924600808), (14.849242405, 17.052009358), (15.156833855, 16.924600808))
            Line((15.156833855, 16.924600808), (16.924600808, 15.156833855))
            ThreePointArc((16.924600808, 15.156833855), (17.052009358, 14.849242405), (16.924600808, 14.541650955))
            Line((16.924600808, 14.541650955), (15.638114241, 13.255164389))
            ThreePointArc((15.638114241, 13.255164389), (14.495689014, -14.495689014), (-13.255164389, -15.638114241))
        make_face()
        Circle(SKETCH_13_R, mode=Mode.SUBTRACT)
    extrude(amount=-EXTRUDE_5_DEPTH)

    # 草图14 → 凸台-拉伸6 (add)
    with BuildSketch(Plane(origin=(0, 0, -4.5), x_dir=(-1, 0, 0), z_dir=(0, 0, -1))):
        Circle(SKETCH_14_R)
        with Locations(Location((0, 0, 0), (0, 0, 180))):
            Circle(SKETCH_14_R_2, mode=Mode.SUBTRACT)
    extrude(amount=EXTRUDE_6_DEPTH)

    # 草图15 → 凸台-拉伸7 (add)
    with BuildSketch(Plane(origin=(0, 0, -6.5), x_dir=(-1, 0, 0), z_dir=(0, 0, -1))):
        Circle(SKETCH_15_R)
        with Locations(Location((0, 0, 0), (0, 0, 180))):
            Circle(SKETCH_15_R_2, mode=Mode.SUBTRACT)
    extrude(amount=EXTRUDE_7_DEPTH)

    # 草图16 → 凸台-拉伸8 (add)
    with BuildSketch(Plane(origin=(0, 0, -7.5), x_dir=(-1, 0, 0), z_dir=(0, 0, -1))):
        with Locations(Location((0, 0, 0), (0, 0, 180))):
            Circle(SKETCH_16_R)
        Circle(SKETCH_16_R_2, mode=Mode.SUBTRACT)
    extrude(amount=-EXTRUDE_8_DEPTH)

    # 草图17 → 切除-拉伸5 (cut)
    with BuildSketch(Plane.XY):
        with Locations((-23.5, 0)):
            Circle(SKETCH_17_R)
        with Locations((0, -23.5)):
            Circle(SKETCH_17_R)
        with Locations((0, 23.5)):
            Circle(SKETCH_17_R)
        with Locations((23.5, 0)):
            Circle(SKETCH_17_R)
    extrude(amount=-CUT_EXTRUDE_5_DEPTH, mode=Mode.SUBTRACT)

    # 草图18 → 切除-拉伸6 (cut, symmetric)
    with BuildSketch(Plane(origin=(0, 0, 0), x_dir=(0, 0, -1), z_dir=(0.707106781186549, -0.707106781186546, 0))):
        with Locations(Location((2.94, 0, 0), (0, 0, 90))):
            Circle(SKETCH_18_R)
    extrude(amount=CUT_EXTRUDE_6_DEPTH, both=True, mode=Mode.SUBTRACT)

    # 草图19 → 切除-拉伸7 (cut)
    with BuildSketch(Plane.XY.offset(-5.5)):
        with BuildLine():
            Line((-7.766219957, -12.715967426), (12.715967426, 7.766219957))
            ThreePointArc((12.715967426, 7.766219957), (10.53589104, 10.53589104), (7.766219957, 12.715967426))
            Line((7.766219957, 12.715967426), (-12.715967426, -7.766219957))
            ThreePointArc((-12.715967426, -7.766219957), (-10.53589104, -10.53589104), (-7.766219957, -12.715967426))
        make_face()
    extrude(amount=-CUT_EXTRUDE_7_DEPTH, mode=Mode.SUBTRACT)


solid = Compound([part.part, body_2.part])
